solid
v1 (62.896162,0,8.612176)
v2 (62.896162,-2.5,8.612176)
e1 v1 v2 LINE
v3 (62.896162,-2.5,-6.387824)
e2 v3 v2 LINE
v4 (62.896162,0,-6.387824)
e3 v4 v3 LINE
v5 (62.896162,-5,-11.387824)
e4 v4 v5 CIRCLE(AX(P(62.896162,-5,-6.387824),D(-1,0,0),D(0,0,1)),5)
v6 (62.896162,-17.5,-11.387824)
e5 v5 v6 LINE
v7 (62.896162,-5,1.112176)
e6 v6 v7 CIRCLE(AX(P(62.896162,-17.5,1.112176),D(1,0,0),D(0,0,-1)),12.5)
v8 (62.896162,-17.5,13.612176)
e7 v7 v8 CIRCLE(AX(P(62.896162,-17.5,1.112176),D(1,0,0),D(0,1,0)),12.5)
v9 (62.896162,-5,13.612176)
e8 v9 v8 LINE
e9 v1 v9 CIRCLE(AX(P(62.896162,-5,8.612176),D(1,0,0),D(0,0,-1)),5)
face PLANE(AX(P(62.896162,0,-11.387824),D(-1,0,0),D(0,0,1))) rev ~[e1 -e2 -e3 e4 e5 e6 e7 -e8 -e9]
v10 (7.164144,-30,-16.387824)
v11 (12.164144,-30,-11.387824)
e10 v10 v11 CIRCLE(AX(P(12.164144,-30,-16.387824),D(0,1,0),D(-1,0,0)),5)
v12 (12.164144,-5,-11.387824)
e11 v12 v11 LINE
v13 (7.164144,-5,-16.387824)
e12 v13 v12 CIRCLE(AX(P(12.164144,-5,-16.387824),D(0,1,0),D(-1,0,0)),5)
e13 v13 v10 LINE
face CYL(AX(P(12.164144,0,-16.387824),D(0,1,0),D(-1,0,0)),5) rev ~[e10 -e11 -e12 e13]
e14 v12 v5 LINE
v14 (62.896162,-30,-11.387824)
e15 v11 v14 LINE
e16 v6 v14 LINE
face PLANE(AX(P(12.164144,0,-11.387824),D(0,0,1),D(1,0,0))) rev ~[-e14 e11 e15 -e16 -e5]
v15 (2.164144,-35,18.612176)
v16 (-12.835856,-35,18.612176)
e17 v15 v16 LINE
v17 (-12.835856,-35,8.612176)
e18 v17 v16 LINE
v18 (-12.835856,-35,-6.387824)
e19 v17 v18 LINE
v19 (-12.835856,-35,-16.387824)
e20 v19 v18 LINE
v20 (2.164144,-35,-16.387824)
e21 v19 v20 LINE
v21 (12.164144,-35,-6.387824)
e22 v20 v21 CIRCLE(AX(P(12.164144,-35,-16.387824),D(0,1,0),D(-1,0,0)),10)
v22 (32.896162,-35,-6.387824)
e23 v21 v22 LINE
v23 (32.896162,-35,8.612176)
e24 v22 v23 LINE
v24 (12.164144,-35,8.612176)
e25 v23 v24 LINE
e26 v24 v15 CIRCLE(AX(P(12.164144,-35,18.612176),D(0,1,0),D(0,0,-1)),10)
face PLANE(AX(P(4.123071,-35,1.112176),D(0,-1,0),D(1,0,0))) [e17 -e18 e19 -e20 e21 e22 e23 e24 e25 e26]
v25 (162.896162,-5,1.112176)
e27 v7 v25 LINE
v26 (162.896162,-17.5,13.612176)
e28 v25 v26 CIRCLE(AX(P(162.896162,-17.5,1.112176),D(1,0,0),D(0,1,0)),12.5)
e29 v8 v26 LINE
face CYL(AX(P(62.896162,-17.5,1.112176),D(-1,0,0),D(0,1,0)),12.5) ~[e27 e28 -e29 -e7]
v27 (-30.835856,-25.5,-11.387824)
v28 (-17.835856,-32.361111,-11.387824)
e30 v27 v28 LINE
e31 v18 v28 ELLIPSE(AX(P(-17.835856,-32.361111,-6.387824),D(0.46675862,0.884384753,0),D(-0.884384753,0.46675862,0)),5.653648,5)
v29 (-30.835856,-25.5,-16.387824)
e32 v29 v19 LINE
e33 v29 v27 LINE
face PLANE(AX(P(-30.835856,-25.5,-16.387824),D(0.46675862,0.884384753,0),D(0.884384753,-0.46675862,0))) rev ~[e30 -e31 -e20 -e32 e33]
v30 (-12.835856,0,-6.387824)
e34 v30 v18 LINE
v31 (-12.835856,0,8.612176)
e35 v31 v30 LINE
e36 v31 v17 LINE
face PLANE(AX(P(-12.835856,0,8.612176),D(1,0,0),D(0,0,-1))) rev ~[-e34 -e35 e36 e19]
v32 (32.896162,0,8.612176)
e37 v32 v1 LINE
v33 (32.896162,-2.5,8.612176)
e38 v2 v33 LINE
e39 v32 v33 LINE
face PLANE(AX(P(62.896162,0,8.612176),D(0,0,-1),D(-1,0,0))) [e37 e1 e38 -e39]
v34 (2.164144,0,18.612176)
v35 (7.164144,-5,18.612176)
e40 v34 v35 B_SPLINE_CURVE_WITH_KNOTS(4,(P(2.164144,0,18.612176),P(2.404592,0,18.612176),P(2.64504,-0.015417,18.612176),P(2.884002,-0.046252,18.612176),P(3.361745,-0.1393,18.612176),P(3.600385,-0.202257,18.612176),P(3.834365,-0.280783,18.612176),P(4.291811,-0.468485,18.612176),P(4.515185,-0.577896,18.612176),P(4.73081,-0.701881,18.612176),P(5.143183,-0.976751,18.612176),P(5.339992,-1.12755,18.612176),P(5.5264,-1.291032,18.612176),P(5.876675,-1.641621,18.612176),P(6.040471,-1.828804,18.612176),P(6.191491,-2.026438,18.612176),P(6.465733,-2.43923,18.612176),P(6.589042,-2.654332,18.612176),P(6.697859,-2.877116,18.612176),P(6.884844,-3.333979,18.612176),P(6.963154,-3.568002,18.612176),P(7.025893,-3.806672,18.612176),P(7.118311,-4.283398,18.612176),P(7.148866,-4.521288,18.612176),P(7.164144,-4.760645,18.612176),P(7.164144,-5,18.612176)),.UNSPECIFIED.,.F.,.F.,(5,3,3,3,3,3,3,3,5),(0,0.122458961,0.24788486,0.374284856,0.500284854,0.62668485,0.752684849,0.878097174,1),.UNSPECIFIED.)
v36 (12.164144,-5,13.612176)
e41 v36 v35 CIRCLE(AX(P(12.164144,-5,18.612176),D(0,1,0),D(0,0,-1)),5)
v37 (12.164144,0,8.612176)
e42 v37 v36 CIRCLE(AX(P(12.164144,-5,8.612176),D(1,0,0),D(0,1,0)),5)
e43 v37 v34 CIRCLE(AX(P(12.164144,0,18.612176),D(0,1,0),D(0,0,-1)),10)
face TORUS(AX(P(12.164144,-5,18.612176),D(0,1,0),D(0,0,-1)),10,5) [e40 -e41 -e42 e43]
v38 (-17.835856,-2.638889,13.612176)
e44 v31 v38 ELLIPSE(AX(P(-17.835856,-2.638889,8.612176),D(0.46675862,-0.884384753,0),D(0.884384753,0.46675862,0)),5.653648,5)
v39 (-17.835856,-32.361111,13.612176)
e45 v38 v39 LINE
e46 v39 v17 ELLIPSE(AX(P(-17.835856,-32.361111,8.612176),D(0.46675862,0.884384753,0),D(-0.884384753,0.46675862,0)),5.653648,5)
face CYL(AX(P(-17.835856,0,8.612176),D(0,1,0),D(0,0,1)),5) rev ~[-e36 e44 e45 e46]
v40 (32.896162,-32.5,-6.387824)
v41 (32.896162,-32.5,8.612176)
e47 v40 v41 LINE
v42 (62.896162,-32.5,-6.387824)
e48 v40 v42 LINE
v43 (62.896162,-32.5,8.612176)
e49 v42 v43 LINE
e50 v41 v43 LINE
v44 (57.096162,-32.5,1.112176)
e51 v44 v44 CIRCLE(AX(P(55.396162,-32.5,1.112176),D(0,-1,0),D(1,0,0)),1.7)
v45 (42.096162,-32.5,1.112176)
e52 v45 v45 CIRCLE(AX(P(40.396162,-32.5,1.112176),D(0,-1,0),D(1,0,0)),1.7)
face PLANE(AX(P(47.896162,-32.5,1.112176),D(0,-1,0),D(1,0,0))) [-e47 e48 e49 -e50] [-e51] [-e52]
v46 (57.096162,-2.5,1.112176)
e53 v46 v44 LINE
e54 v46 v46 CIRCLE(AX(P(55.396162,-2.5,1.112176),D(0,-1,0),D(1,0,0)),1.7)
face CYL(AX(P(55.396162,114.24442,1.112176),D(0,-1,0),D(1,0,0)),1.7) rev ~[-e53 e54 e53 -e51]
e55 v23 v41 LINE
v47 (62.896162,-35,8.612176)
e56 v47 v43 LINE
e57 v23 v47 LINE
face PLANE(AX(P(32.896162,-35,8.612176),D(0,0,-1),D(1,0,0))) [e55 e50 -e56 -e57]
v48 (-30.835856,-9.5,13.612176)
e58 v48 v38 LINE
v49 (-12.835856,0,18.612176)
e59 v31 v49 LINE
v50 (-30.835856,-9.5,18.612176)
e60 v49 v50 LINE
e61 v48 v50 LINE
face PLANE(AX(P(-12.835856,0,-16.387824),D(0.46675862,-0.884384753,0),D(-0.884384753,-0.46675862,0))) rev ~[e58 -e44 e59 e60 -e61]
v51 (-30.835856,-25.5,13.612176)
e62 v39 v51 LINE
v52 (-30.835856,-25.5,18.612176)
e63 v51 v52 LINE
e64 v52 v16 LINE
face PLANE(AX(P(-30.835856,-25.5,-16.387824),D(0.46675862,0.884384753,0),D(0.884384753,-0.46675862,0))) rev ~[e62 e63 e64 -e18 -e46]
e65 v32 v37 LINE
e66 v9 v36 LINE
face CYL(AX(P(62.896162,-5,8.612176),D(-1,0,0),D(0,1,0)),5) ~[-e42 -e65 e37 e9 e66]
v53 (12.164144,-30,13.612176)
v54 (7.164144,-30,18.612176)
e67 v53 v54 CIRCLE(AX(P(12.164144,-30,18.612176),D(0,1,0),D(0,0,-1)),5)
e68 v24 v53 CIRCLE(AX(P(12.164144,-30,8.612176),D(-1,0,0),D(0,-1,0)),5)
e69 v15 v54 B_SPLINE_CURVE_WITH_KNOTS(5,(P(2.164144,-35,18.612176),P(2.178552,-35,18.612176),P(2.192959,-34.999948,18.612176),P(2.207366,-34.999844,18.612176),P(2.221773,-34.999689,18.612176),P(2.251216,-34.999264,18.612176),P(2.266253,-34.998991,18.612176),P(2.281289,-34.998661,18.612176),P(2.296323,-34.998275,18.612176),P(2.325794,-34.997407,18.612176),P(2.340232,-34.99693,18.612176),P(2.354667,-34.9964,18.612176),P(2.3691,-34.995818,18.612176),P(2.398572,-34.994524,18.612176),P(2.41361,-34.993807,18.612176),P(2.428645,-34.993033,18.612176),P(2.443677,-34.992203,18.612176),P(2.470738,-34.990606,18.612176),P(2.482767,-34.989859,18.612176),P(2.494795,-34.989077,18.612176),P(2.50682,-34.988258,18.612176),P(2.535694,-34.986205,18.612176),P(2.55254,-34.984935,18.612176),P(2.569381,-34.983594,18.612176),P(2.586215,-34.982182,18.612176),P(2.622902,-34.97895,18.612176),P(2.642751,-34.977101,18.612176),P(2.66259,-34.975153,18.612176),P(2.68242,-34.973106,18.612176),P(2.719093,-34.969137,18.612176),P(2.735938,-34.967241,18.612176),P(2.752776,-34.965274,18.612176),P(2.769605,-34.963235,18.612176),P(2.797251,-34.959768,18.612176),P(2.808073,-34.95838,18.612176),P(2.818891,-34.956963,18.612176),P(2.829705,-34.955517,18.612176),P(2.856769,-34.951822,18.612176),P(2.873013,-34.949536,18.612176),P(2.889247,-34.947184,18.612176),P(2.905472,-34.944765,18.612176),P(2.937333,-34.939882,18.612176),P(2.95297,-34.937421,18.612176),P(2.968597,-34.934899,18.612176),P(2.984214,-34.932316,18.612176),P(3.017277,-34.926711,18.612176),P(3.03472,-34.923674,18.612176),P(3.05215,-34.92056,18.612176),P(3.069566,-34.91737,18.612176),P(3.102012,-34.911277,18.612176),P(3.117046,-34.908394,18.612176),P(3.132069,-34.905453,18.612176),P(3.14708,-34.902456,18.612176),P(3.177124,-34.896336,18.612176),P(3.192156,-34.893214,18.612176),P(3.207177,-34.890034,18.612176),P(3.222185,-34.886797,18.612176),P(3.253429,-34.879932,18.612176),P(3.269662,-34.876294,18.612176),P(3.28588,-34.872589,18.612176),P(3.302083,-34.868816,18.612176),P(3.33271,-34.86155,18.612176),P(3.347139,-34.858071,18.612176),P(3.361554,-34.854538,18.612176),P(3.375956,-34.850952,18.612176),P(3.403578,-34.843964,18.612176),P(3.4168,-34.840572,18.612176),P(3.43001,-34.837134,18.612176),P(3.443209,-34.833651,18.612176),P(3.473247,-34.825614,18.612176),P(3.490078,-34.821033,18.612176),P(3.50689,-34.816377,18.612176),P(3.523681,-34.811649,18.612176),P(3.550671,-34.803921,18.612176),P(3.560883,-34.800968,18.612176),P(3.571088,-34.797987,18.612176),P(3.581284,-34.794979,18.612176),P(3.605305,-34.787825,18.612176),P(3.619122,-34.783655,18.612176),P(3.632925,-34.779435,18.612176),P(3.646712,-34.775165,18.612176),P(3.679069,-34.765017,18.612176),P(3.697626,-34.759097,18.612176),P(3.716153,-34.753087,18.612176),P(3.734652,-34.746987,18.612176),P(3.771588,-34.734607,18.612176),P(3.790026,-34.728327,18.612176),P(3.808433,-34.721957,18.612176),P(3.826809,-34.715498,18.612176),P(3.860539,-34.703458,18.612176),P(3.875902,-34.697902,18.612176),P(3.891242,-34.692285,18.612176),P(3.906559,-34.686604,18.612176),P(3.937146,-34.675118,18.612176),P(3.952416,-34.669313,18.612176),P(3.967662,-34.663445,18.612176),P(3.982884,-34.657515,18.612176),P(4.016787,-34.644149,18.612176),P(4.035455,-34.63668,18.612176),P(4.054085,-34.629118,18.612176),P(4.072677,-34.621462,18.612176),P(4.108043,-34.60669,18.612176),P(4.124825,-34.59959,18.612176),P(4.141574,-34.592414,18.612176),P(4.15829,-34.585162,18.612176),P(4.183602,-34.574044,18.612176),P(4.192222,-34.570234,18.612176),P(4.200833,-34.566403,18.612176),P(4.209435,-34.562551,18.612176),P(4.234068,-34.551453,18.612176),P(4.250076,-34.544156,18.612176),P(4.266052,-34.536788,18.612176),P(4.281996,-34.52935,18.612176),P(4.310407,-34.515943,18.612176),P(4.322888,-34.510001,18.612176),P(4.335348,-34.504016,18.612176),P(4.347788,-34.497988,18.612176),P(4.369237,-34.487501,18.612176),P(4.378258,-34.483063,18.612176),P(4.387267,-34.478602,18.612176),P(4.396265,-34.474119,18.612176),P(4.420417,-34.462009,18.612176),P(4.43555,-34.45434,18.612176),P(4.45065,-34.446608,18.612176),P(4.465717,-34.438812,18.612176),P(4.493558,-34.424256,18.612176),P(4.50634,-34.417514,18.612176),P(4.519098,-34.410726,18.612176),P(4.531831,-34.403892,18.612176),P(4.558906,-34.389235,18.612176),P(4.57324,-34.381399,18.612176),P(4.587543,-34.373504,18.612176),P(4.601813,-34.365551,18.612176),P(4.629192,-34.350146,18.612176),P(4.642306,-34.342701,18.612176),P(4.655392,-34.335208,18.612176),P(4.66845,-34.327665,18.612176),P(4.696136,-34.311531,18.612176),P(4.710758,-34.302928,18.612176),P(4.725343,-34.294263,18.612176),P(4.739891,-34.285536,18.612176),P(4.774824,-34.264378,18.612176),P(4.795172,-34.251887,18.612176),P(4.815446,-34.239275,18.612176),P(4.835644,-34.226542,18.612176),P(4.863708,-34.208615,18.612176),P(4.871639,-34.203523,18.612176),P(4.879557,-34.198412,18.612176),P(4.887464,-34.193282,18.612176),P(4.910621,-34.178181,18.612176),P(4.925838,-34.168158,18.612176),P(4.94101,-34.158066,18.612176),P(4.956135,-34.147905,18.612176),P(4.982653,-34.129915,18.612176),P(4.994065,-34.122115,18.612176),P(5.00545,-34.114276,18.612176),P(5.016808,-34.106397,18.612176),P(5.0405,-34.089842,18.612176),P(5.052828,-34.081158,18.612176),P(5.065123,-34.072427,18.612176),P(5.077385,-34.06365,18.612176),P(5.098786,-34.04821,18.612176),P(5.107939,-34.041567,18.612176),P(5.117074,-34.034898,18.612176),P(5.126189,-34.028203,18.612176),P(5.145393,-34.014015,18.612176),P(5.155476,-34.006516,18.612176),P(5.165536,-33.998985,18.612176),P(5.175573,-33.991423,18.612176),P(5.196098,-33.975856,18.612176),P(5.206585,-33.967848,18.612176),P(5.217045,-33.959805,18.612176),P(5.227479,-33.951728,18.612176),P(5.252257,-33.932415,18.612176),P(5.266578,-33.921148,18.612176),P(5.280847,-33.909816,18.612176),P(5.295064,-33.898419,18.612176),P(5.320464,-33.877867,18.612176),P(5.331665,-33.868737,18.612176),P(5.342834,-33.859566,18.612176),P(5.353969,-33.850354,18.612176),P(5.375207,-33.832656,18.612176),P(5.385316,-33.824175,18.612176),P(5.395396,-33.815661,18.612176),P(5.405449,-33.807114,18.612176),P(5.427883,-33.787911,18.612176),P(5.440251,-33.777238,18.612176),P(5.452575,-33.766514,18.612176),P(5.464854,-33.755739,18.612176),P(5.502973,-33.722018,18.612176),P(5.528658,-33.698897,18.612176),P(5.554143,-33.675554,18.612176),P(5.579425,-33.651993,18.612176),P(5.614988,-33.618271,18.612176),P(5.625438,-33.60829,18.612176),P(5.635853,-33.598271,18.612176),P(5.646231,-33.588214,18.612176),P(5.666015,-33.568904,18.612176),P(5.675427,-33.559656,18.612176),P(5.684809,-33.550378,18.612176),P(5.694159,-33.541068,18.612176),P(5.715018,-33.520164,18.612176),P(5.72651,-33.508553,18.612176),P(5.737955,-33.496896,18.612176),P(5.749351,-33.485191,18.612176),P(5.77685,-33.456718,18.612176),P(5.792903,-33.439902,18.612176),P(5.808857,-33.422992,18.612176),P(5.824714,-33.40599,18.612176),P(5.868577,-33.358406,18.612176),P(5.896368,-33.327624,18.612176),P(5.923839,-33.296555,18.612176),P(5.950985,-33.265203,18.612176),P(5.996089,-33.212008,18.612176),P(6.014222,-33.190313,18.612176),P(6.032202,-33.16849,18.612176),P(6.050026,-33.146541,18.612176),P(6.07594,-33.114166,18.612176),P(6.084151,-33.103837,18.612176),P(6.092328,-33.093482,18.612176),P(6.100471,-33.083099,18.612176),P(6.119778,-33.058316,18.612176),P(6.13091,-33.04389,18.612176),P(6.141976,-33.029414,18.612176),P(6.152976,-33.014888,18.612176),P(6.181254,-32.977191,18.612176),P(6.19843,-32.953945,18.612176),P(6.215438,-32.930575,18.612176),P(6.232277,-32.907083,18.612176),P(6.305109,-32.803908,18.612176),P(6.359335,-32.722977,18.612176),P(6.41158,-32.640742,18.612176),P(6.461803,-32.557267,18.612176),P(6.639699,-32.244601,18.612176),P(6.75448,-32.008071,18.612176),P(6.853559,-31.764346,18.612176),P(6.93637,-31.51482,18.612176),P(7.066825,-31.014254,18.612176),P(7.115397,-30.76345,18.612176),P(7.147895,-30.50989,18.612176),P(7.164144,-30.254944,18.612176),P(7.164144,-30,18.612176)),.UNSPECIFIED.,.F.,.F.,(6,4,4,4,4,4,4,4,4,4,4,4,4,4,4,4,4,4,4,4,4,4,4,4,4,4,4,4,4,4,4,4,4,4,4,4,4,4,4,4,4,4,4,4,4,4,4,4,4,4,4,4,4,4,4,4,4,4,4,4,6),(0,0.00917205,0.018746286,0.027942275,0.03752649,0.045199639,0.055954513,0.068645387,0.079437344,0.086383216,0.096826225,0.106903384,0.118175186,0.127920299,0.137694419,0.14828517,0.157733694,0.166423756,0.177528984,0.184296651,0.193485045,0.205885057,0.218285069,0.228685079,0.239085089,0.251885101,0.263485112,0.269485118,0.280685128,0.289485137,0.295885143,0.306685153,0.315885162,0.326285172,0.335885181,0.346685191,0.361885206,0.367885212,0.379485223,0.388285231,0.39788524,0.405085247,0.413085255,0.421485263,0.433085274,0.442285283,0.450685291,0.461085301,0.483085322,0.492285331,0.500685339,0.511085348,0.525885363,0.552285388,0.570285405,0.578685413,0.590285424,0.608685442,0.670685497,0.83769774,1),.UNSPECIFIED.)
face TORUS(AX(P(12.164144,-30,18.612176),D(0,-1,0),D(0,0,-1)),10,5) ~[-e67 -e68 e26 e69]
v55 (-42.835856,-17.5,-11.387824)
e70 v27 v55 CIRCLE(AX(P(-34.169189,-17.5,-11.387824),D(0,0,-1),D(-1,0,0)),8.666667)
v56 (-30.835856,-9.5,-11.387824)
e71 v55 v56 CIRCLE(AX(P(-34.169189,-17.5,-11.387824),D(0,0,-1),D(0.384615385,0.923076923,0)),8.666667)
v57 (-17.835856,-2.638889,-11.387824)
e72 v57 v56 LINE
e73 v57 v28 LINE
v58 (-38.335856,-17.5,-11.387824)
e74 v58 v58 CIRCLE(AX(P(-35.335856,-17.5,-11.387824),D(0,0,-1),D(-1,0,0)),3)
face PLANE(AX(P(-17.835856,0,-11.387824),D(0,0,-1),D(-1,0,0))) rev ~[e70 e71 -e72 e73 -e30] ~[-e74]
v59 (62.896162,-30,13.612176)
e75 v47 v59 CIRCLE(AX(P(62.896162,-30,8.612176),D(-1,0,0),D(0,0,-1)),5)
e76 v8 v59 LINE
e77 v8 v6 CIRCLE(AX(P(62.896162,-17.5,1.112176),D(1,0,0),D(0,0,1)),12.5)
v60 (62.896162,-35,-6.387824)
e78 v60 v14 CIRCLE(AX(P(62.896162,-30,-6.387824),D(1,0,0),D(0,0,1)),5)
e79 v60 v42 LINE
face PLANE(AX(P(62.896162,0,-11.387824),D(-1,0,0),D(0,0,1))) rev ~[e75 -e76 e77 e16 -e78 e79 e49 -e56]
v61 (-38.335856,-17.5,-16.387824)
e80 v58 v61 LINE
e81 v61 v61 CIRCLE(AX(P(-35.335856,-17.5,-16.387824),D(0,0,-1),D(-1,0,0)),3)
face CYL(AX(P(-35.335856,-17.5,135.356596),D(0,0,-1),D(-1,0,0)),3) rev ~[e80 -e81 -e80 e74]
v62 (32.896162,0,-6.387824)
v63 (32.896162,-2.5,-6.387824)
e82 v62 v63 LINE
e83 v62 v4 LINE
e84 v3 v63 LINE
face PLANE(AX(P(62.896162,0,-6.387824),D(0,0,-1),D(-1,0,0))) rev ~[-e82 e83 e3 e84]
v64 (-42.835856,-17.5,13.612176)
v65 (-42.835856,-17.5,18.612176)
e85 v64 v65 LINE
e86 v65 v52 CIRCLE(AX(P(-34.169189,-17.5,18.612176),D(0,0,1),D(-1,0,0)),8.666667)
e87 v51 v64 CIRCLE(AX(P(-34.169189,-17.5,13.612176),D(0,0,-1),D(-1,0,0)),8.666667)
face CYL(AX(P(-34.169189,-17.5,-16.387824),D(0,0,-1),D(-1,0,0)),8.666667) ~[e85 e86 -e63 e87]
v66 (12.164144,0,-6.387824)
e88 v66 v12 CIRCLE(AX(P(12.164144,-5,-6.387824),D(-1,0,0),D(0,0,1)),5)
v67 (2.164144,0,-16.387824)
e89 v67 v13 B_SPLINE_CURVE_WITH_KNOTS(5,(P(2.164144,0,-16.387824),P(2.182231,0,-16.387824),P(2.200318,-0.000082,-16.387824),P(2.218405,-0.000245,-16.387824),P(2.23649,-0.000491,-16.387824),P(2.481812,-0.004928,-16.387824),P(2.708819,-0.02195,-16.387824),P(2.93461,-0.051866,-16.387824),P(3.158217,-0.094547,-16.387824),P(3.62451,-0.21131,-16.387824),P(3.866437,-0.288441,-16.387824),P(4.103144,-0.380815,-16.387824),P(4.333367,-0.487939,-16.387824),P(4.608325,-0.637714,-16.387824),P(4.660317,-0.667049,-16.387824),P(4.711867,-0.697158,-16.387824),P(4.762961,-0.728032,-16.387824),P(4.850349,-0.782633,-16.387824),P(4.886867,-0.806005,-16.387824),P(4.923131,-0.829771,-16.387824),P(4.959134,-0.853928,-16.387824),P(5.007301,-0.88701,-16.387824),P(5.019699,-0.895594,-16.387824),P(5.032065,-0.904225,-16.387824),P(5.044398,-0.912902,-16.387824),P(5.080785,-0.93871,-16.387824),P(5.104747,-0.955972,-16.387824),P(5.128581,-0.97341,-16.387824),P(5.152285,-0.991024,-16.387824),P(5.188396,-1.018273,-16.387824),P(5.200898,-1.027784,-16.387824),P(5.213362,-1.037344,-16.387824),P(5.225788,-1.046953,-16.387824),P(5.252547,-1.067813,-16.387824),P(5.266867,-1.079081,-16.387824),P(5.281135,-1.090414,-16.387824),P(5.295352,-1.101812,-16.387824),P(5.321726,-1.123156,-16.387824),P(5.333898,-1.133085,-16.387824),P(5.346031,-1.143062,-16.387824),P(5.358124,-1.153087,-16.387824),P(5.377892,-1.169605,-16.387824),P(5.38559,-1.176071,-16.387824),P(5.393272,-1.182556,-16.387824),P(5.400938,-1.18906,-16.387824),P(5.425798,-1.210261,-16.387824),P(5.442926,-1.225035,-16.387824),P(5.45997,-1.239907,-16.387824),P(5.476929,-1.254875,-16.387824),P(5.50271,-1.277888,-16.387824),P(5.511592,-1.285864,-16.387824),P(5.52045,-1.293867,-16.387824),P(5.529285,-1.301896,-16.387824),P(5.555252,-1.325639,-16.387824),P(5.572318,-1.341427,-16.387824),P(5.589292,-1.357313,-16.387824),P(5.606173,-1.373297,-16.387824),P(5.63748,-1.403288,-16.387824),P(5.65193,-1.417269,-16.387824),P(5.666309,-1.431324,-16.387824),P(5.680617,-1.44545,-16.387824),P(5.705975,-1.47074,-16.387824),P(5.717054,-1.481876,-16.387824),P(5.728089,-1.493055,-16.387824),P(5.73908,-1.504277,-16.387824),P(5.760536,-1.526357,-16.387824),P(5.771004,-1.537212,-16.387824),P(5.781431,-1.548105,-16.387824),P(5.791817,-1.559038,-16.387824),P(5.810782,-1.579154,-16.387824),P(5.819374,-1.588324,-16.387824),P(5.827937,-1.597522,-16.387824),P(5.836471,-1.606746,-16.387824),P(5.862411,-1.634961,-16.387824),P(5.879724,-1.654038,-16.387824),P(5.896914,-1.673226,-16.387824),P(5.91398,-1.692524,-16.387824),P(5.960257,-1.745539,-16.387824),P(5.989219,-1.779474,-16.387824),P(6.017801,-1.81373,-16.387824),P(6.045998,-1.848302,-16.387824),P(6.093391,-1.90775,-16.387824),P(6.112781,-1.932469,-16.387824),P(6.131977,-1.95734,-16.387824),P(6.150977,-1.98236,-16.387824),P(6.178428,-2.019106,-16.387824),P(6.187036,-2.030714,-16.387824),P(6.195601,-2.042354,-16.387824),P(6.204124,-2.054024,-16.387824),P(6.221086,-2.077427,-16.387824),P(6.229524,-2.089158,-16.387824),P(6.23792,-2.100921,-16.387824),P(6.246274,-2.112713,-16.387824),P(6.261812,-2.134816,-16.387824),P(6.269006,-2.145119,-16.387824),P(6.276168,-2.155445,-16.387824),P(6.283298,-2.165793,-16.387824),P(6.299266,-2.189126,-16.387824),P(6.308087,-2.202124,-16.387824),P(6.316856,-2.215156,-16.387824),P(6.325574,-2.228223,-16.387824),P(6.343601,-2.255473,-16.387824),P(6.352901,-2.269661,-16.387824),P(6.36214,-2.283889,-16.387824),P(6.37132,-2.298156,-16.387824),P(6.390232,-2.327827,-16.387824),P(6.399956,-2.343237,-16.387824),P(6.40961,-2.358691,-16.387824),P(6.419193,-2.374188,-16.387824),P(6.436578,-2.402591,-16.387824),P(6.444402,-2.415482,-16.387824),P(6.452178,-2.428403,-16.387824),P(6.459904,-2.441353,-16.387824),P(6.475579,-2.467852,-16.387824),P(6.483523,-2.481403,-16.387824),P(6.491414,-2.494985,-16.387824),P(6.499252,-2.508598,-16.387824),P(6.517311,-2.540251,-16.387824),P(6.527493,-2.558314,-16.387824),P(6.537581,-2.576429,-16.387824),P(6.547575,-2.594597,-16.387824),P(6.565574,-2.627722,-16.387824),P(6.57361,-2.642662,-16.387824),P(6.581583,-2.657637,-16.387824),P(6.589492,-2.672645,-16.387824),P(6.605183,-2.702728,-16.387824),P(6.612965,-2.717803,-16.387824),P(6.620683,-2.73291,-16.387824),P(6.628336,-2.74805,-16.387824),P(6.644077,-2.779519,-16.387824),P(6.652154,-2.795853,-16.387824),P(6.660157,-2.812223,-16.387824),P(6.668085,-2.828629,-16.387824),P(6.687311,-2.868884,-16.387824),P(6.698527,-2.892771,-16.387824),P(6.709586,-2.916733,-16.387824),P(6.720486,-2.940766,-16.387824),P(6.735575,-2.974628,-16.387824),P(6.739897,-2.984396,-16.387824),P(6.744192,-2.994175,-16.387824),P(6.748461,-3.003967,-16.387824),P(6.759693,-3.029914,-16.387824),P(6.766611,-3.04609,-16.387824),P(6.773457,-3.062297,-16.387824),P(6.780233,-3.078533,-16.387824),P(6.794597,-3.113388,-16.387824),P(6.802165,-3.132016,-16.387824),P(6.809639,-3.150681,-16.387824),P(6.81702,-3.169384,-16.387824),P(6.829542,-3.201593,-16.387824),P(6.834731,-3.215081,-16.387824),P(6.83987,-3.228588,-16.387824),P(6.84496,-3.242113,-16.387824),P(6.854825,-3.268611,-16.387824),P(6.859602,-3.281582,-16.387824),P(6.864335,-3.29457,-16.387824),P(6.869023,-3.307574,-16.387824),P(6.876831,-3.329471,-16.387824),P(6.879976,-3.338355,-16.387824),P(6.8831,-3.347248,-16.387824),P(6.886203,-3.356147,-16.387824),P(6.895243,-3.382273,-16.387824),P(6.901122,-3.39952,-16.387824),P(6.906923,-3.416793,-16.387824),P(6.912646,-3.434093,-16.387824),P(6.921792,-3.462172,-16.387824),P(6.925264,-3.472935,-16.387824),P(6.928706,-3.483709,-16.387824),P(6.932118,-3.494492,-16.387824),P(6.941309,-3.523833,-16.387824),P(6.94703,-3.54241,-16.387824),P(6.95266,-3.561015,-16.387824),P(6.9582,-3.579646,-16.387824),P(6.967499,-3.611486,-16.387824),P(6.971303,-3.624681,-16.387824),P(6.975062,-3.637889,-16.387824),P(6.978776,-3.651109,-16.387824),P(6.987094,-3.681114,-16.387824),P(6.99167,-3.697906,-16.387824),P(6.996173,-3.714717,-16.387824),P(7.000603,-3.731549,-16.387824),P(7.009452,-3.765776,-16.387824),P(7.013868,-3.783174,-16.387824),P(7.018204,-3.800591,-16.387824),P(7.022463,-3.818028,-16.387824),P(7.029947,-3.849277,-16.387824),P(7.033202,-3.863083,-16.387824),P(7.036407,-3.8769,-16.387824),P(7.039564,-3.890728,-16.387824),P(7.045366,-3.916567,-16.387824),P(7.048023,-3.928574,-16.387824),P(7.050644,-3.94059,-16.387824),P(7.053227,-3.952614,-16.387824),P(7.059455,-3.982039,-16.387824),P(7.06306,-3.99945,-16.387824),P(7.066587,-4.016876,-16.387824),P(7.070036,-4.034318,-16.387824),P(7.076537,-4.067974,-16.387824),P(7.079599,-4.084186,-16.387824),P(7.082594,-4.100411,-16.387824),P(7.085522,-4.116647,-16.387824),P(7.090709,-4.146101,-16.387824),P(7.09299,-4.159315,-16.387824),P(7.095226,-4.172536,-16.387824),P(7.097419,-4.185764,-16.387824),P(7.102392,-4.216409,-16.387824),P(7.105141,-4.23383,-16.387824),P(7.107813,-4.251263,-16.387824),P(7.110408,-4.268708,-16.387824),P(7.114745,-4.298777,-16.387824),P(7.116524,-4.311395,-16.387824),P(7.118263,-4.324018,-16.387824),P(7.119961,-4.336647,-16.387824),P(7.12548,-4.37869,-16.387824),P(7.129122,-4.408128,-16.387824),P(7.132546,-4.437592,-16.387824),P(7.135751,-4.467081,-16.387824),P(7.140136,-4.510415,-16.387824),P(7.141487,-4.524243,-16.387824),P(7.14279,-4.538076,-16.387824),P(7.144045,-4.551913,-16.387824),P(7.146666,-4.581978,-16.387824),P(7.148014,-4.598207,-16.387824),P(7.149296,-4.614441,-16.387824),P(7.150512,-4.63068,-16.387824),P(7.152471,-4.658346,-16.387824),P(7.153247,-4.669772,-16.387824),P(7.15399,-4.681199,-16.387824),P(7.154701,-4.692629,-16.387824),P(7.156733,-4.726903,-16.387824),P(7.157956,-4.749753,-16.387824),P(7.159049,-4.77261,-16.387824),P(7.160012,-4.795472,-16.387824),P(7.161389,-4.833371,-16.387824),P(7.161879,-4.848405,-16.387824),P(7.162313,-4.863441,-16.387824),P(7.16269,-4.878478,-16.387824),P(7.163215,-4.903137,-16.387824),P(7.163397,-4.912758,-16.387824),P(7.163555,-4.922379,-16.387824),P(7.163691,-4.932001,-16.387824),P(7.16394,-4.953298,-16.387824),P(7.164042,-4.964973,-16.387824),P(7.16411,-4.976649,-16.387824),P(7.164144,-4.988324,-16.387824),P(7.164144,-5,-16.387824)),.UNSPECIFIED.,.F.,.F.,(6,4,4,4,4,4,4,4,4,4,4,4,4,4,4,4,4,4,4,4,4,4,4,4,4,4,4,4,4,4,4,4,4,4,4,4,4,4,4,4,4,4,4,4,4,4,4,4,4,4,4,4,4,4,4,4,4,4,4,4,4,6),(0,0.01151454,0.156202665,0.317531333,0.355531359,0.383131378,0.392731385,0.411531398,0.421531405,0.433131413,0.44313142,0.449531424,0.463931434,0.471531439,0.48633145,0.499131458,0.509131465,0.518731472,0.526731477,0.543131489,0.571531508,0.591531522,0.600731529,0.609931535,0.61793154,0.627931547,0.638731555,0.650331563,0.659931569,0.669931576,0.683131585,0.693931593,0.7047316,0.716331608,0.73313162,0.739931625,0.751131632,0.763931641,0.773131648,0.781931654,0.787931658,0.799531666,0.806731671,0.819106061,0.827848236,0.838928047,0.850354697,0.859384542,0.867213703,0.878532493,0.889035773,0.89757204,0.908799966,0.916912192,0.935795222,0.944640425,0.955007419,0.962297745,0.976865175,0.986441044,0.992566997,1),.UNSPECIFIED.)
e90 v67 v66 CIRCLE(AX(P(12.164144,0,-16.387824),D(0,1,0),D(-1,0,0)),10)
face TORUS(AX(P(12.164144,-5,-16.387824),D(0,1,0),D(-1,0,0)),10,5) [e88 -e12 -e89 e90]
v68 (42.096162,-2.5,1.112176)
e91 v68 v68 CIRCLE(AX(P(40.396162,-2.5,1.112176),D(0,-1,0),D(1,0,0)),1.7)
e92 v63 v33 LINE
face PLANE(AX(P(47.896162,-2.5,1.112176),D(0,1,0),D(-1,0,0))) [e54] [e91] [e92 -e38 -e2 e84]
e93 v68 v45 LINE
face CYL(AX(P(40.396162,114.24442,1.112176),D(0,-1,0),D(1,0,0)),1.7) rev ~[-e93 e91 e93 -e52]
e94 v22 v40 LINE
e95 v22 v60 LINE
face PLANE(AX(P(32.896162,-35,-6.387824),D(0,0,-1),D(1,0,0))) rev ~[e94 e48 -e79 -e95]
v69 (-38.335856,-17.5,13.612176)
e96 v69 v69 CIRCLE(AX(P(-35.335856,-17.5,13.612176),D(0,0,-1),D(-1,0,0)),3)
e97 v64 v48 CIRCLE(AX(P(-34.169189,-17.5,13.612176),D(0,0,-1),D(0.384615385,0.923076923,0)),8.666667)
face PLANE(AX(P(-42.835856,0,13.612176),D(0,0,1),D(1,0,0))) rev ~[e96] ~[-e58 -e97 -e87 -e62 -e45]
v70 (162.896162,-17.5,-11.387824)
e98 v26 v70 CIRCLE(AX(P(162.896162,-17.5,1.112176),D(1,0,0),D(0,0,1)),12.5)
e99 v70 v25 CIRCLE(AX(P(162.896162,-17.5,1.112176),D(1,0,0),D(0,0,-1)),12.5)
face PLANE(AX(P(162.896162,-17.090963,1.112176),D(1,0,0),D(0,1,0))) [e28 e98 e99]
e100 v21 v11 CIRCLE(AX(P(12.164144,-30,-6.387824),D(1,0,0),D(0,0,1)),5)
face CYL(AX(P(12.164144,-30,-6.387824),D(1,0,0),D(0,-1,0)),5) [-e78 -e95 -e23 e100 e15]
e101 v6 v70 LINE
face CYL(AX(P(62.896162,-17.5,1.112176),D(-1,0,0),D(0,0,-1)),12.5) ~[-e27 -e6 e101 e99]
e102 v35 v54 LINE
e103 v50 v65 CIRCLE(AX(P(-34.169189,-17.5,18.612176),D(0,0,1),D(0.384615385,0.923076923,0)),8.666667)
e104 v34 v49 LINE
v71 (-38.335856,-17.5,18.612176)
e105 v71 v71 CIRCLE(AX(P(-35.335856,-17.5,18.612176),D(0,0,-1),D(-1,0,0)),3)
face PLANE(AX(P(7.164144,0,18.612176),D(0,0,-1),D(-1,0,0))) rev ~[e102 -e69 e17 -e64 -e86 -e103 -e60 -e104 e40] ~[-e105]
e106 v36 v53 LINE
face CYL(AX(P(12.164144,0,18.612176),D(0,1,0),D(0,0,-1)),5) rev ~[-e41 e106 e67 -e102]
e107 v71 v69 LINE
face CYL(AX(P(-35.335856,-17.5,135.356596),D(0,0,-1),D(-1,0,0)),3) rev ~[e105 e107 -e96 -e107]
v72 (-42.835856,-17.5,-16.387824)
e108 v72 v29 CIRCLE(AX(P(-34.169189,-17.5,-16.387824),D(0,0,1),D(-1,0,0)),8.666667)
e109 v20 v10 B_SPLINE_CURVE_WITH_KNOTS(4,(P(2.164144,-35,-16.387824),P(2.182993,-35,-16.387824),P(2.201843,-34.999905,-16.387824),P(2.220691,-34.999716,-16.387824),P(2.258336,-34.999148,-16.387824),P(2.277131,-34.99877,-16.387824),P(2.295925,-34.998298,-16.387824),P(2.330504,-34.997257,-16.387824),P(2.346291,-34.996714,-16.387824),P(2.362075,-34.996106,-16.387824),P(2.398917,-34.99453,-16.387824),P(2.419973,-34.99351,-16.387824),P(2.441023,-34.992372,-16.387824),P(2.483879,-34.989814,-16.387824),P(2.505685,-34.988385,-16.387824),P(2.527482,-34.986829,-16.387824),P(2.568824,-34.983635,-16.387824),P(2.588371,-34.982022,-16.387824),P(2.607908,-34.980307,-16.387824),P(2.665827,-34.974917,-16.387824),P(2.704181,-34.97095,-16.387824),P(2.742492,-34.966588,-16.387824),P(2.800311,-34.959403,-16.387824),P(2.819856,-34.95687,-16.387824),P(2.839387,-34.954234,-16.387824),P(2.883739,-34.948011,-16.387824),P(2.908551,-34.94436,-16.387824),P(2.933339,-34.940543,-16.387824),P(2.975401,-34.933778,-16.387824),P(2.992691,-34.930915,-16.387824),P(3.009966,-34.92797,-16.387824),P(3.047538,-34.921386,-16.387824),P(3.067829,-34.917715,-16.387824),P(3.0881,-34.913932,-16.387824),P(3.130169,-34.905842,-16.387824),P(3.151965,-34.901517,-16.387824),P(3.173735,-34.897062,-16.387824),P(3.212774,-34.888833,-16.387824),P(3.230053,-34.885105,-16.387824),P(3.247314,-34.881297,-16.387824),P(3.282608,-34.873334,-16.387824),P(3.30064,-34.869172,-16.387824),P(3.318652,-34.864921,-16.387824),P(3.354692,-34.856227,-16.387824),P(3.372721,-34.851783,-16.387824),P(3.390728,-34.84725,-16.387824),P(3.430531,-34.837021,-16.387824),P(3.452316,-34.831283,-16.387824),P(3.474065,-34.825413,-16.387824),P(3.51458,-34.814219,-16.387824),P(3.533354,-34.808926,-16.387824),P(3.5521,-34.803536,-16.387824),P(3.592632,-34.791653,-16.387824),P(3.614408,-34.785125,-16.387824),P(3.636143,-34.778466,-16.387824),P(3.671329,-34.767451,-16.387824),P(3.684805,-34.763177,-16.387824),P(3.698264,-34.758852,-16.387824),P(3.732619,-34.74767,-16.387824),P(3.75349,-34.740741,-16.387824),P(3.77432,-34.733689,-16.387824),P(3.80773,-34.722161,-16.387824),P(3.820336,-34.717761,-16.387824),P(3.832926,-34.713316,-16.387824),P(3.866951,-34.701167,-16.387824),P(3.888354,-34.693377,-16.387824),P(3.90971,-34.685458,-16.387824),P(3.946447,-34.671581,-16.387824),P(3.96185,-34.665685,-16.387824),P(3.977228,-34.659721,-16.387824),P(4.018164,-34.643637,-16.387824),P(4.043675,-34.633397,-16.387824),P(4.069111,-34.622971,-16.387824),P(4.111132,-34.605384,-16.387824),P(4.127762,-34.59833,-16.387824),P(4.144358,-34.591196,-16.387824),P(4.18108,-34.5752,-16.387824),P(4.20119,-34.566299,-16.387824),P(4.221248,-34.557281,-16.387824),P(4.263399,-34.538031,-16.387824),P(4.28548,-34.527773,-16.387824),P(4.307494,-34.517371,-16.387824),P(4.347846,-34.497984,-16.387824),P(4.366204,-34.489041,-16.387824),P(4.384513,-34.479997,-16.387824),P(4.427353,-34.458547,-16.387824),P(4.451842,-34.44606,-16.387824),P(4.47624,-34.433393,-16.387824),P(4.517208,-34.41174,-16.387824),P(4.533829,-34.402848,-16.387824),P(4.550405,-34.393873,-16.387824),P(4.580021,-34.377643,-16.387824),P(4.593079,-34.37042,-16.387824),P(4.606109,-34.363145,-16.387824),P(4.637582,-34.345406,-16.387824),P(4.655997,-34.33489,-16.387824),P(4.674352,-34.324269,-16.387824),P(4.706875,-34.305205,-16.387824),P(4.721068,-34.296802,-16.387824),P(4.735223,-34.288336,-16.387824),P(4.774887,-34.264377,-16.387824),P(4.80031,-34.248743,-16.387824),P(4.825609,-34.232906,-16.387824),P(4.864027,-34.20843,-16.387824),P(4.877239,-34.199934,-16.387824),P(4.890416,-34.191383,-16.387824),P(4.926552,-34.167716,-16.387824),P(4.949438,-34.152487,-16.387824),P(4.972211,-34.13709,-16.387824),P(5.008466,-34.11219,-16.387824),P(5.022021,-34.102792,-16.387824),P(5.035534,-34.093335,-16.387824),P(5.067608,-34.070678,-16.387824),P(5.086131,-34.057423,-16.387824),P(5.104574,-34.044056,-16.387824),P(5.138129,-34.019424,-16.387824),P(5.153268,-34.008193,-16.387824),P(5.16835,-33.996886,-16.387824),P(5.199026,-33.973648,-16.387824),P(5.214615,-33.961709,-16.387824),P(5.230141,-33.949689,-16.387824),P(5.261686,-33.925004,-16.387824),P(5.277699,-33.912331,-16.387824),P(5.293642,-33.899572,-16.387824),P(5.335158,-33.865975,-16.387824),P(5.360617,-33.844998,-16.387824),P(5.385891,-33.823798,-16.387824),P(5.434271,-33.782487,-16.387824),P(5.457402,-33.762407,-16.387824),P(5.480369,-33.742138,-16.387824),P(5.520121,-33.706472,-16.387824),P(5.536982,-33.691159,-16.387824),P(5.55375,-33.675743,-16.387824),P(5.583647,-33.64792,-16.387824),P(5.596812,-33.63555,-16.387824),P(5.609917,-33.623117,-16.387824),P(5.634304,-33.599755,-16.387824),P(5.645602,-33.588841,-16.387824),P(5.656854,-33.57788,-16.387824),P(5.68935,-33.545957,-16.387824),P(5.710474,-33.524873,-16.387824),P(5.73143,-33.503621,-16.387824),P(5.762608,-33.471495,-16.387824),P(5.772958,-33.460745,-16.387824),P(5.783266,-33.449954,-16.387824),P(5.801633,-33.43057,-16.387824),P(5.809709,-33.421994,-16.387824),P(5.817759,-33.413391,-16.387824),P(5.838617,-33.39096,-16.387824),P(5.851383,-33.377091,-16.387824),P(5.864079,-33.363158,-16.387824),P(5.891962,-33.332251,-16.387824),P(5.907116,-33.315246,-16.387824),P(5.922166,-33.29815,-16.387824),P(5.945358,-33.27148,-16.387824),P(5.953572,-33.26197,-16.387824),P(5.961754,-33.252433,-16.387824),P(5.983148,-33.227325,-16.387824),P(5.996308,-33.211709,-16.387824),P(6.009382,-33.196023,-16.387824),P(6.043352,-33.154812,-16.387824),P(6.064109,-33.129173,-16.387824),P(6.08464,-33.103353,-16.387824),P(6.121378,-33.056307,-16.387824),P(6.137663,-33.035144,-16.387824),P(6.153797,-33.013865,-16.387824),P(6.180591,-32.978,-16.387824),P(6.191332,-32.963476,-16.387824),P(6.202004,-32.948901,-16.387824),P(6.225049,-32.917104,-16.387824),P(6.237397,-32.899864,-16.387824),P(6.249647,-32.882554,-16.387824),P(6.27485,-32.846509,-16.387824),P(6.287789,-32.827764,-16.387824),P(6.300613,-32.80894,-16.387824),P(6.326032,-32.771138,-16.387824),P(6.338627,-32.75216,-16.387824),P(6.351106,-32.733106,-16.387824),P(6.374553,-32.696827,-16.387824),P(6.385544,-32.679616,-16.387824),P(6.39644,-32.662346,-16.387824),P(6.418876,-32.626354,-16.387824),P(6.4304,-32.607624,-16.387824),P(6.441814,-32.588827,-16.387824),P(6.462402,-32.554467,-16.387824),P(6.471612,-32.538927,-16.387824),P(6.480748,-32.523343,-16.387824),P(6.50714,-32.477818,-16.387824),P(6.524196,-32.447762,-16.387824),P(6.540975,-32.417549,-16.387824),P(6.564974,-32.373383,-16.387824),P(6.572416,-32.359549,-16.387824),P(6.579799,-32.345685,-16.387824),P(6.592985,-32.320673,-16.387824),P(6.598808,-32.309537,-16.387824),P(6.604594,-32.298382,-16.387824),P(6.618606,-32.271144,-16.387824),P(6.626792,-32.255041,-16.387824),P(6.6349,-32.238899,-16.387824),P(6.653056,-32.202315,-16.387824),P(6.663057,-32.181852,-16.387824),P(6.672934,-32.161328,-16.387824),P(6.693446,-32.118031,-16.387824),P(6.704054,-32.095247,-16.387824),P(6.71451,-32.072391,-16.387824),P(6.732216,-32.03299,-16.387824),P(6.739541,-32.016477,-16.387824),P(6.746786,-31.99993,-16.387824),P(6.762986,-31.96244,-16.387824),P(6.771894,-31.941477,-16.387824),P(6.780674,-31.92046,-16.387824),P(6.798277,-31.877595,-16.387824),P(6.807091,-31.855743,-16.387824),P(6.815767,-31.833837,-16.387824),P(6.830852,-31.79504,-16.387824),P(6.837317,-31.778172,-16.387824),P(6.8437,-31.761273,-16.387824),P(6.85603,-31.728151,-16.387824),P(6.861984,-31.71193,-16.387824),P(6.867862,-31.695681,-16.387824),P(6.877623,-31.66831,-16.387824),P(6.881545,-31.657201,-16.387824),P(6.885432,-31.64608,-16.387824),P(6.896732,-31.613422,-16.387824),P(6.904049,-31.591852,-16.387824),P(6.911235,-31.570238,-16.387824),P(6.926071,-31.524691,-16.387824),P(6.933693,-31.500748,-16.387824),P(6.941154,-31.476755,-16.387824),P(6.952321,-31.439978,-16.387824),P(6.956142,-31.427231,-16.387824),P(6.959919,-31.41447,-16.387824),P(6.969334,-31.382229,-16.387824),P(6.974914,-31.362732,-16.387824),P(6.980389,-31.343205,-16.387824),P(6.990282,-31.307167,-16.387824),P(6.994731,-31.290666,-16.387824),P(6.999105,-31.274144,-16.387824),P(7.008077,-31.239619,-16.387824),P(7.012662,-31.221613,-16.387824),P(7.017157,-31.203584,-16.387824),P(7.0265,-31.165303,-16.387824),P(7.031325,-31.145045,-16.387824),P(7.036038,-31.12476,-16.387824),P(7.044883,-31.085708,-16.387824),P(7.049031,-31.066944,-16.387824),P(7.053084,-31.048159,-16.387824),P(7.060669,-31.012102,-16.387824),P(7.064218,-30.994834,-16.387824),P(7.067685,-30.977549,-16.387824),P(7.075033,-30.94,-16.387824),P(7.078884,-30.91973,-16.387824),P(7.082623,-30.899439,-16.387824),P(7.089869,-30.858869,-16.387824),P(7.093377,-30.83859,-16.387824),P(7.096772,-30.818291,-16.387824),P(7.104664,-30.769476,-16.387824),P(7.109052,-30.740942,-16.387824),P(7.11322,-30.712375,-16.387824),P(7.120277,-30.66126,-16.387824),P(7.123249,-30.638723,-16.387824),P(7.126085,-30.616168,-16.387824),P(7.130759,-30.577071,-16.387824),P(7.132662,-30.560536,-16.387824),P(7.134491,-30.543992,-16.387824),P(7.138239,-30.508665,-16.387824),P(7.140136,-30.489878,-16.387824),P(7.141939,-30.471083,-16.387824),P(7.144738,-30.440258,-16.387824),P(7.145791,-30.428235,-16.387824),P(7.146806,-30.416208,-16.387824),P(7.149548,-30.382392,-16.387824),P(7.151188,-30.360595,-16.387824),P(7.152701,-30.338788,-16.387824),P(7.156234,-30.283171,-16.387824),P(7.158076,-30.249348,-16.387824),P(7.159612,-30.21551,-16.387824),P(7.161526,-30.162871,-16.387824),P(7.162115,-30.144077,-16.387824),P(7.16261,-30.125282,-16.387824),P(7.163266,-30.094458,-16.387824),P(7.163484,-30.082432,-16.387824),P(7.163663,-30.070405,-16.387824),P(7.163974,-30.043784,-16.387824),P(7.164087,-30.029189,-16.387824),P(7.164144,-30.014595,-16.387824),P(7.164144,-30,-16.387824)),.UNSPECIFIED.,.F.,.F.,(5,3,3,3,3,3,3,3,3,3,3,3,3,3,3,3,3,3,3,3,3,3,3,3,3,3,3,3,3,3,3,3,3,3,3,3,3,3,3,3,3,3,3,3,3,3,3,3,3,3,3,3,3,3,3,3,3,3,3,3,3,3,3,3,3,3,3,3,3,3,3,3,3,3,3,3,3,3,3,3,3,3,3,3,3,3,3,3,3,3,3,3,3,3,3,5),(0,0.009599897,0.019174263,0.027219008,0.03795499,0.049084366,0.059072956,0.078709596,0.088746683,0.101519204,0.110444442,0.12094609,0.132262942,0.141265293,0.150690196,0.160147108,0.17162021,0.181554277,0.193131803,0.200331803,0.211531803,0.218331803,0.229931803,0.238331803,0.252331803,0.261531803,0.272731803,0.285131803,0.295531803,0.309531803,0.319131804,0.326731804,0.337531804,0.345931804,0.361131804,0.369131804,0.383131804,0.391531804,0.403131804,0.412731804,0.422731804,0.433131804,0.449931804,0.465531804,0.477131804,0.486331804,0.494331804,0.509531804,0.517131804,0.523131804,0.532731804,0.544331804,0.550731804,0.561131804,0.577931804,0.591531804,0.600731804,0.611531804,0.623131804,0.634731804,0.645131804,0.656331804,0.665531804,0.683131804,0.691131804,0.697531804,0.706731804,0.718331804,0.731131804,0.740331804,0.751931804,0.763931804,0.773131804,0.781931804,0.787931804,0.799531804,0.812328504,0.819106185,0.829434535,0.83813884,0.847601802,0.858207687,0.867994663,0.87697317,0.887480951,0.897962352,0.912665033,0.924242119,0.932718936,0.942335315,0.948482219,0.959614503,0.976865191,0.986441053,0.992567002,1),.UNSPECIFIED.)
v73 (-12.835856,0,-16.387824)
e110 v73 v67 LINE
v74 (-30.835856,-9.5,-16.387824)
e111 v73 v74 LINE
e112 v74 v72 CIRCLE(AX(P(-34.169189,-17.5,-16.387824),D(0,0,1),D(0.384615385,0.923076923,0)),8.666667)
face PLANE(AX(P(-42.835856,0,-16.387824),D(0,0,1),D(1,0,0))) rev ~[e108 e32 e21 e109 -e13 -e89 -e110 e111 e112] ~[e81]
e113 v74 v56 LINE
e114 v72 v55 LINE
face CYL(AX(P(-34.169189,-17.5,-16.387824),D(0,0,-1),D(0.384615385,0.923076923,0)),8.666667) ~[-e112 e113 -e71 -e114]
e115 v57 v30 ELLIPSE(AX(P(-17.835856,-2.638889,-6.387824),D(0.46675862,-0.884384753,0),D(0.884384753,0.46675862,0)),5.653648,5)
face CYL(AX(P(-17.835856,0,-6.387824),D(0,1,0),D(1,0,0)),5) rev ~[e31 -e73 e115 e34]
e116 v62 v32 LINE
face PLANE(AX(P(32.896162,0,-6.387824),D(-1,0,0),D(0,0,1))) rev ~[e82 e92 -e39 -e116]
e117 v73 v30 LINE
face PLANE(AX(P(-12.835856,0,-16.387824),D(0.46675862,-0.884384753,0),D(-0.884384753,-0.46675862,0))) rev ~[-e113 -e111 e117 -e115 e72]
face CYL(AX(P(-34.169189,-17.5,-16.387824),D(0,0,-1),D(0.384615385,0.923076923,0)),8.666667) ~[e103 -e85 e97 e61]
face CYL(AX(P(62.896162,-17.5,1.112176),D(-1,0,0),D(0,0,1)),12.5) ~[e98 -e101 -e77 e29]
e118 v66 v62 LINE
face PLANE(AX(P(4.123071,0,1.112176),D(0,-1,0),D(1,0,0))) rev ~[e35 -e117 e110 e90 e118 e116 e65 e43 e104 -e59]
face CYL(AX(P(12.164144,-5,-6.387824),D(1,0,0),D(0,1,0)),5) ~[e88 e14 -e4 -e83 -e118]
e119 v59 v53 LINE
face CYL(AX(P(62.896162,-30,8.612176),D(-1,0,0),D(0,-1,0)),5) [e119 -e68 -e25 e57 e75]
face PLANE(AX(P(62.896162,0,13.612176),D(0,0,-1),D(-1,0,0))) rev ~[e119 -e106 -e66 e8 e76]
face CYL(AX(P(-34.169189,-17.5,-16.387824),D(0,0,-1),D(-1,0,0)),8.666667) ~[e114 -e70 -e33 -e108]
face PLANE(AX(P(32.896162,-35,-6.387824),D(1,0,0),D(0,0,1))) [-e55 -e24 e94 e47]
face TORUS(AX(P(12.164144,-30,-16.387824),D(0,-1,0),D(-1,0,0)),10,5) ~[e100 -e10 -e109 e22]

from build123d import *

# Parameters (mm, degrees)
F1_DEPTH  = 35
F2_W      = 30
F2_H      = 15
F3_DEPTH  = 2.5
F4_W      = 30
F4_H      = 15
F5_DEPTH  = 2.5
F7_D      = 3.4
F8_R      = 5
F10_D     = 6
F12_DEPTH = 35
F14_DEPTH = 100


with BuildPart() as f1:
    # F0 (on Front) → F1 (new body)
    with BuildSketch(Plane.XZ):
        with BuildLine():
            Line((7.1641441025, 18.6121761102), (-12.8358558975, 18.6121761102))
            Line((-12.8358558975, 18.6121761102), (-42.8358558975, 18.6121761102))
            Line((-42.8358558975, 18.6121761102), (-42.8358558975, 13.6121761102))
            Line((-42.8358558975, 13.6121761102), (-17.8358558975, 13.6121761102))
            ThreePointArc((-17.8358558975, 13.6121761102), (-14.3003219916, 12.1477100161), (-12.8358558975, 8.6121761102))
            Line((-12.8358558975, 8.6121761102), (-12.8358558975, -6.3878238898))
            ThreePointArc((-12.8358558975, -6.3878238898), (-14.3003219916, -9.9233577957), (-17.8358558975, -11.3878238898))
            Line((-17.8358558975, -11.3878238898), (-42.8358558975, -11.3878238898))
            Line((-42.8358558975, -11.3878238898), (-42.8358558975, -16.3878238898))
            Line((-42.8358558975, -16.3878238898), (-12.8358558975, -16.3878238898))
            Line((-12.8358558975, -16.3878238898), (7.1641441025, -16.3878238898))
            ThreePointArc((7.1641441025, -16.3878238898), (8.6286101965, -12.8522899839), (12.1641441025, -11.3878238898))
            Line((12.1641441025, -11.3878238898), (62.8961617798, -11.3878238898))
            Line((62.8961617798, -11.3878238898), (62.8961617798, 13.6121761102))
            Line((62.8961617798, 13.6121761102), (12.1641441025, 13.6121761102))
            ThreePointArc((12.1641441025, 13.6121761102), (8.6286101965, 15.0766422043), (7.1641441025, 18.6121761102))
        make_face()
    extrude(amount=F1_DEPTH)

    # F2 (on face) → F3 (cut)
    with BuildSketch(Plane.XZ.offset(35)):
        with Locations((47.8961617798, 1.1121761102)):
            Rectangle(F2_W, F2_H)
    extrude(amount=-F3_DEPTH, mode=Mode.SUBTRACT)

    # F4 (on face) → F5 (cut)
    with BuildSketch(Plane(origin=(0, 0, 0), x_dir=(-1, 0, 0), z_dir=(0, 1, 0))):
        with Locations((-47.8961617798, 1.1121761102)):
            Rectangle(F4_W, F4_H)
    extrude(amount=-F5_DEPTH, mode=Mode.SUBTRACT)

    # F7 (through all)
    with Locations(Plane(origin=(0, -2.5, 0), x_dir=(-1, 0, 0), z_dir=(0, 1, 0))):
        with Locations((-55.3961617798, 1.1121761102), (-40.3961617798, 1.1121761102)):
            Hole(F7_D / 2)

    # F8
    f8_edges = [f1.edges().sort_by_distance(p)[0] for p in [
        (37.530153, 0, -11.387824),
        (37.530153, 0, 13.612176),
        (37.530153, -35, 13.612176),
        (37.530153, -35, -11.387824),
    ]]
    fillet(f8_edges, radius=F8_R)

    # F10 (through all)
    with Locations(Plane.XY.offset(18.6121761102)):
        with Locations((-35.3358558975, -17.5)):
            Hole(F10_D / 2)

    # F11 (on face) → F12 (cut)
    with BuildSketch(Plane(origin=(0, 0, -16.3878238898), x_dir=(1, 0, 0), z_dir=(0, 0, -1))):
        with BuildLine():
            Line((-42.8358558975, 0), (-12.8358558975, 0))
            Line((-12.8358558975, 0), (-30.8358558975, 9.5))
            ThreePointArc((-30.8358558975, 9.5), (-38.9765909315, 10.2888974491), (-42.8358558975, 17.5))
            Line((-42.8358558975, 17.5), (-42.8358558975, 0))
        make_face()
        with BuildLine():
            Line((-30.8358558975, 25.5), (-12.8358558975, 35))
            Line((-12.8358558975, 35), (-42.8358558975, 35))
            Line((-42.8358558975, 35), (-42.8358558975, 17.5))
            ThreePointArc((-42.8358558975, 17.5), (-38.9765909315, 24.7111025509), (-30.8358558975, 25.5))
        make_face()
    extrude(amount=-F12_DEPTH, mode=Mode.SUBTRACT)

    # F13 (on face) → F14 (join)
    with BuildSketch(Plane.YZ.offset(62.8961617798)):
        with BuildLine():
            ThreePointArc((-17.5, -11.3878238898), (-8.6611652352, -7.7266586546), (-5, 1.1121761102))
            ThreePointArc((-5, 1.1121761102), (-8.6611652352, 9.951010875), (-17.5, 13.6121761102))
            ThreePointArc((-17.5, 13.6121761102), (-30, 1.1121761102), (-17.5, -11.3878238898))
        make_face()
    extrude(amount=F14_DEPTH)


solid = f1.part
